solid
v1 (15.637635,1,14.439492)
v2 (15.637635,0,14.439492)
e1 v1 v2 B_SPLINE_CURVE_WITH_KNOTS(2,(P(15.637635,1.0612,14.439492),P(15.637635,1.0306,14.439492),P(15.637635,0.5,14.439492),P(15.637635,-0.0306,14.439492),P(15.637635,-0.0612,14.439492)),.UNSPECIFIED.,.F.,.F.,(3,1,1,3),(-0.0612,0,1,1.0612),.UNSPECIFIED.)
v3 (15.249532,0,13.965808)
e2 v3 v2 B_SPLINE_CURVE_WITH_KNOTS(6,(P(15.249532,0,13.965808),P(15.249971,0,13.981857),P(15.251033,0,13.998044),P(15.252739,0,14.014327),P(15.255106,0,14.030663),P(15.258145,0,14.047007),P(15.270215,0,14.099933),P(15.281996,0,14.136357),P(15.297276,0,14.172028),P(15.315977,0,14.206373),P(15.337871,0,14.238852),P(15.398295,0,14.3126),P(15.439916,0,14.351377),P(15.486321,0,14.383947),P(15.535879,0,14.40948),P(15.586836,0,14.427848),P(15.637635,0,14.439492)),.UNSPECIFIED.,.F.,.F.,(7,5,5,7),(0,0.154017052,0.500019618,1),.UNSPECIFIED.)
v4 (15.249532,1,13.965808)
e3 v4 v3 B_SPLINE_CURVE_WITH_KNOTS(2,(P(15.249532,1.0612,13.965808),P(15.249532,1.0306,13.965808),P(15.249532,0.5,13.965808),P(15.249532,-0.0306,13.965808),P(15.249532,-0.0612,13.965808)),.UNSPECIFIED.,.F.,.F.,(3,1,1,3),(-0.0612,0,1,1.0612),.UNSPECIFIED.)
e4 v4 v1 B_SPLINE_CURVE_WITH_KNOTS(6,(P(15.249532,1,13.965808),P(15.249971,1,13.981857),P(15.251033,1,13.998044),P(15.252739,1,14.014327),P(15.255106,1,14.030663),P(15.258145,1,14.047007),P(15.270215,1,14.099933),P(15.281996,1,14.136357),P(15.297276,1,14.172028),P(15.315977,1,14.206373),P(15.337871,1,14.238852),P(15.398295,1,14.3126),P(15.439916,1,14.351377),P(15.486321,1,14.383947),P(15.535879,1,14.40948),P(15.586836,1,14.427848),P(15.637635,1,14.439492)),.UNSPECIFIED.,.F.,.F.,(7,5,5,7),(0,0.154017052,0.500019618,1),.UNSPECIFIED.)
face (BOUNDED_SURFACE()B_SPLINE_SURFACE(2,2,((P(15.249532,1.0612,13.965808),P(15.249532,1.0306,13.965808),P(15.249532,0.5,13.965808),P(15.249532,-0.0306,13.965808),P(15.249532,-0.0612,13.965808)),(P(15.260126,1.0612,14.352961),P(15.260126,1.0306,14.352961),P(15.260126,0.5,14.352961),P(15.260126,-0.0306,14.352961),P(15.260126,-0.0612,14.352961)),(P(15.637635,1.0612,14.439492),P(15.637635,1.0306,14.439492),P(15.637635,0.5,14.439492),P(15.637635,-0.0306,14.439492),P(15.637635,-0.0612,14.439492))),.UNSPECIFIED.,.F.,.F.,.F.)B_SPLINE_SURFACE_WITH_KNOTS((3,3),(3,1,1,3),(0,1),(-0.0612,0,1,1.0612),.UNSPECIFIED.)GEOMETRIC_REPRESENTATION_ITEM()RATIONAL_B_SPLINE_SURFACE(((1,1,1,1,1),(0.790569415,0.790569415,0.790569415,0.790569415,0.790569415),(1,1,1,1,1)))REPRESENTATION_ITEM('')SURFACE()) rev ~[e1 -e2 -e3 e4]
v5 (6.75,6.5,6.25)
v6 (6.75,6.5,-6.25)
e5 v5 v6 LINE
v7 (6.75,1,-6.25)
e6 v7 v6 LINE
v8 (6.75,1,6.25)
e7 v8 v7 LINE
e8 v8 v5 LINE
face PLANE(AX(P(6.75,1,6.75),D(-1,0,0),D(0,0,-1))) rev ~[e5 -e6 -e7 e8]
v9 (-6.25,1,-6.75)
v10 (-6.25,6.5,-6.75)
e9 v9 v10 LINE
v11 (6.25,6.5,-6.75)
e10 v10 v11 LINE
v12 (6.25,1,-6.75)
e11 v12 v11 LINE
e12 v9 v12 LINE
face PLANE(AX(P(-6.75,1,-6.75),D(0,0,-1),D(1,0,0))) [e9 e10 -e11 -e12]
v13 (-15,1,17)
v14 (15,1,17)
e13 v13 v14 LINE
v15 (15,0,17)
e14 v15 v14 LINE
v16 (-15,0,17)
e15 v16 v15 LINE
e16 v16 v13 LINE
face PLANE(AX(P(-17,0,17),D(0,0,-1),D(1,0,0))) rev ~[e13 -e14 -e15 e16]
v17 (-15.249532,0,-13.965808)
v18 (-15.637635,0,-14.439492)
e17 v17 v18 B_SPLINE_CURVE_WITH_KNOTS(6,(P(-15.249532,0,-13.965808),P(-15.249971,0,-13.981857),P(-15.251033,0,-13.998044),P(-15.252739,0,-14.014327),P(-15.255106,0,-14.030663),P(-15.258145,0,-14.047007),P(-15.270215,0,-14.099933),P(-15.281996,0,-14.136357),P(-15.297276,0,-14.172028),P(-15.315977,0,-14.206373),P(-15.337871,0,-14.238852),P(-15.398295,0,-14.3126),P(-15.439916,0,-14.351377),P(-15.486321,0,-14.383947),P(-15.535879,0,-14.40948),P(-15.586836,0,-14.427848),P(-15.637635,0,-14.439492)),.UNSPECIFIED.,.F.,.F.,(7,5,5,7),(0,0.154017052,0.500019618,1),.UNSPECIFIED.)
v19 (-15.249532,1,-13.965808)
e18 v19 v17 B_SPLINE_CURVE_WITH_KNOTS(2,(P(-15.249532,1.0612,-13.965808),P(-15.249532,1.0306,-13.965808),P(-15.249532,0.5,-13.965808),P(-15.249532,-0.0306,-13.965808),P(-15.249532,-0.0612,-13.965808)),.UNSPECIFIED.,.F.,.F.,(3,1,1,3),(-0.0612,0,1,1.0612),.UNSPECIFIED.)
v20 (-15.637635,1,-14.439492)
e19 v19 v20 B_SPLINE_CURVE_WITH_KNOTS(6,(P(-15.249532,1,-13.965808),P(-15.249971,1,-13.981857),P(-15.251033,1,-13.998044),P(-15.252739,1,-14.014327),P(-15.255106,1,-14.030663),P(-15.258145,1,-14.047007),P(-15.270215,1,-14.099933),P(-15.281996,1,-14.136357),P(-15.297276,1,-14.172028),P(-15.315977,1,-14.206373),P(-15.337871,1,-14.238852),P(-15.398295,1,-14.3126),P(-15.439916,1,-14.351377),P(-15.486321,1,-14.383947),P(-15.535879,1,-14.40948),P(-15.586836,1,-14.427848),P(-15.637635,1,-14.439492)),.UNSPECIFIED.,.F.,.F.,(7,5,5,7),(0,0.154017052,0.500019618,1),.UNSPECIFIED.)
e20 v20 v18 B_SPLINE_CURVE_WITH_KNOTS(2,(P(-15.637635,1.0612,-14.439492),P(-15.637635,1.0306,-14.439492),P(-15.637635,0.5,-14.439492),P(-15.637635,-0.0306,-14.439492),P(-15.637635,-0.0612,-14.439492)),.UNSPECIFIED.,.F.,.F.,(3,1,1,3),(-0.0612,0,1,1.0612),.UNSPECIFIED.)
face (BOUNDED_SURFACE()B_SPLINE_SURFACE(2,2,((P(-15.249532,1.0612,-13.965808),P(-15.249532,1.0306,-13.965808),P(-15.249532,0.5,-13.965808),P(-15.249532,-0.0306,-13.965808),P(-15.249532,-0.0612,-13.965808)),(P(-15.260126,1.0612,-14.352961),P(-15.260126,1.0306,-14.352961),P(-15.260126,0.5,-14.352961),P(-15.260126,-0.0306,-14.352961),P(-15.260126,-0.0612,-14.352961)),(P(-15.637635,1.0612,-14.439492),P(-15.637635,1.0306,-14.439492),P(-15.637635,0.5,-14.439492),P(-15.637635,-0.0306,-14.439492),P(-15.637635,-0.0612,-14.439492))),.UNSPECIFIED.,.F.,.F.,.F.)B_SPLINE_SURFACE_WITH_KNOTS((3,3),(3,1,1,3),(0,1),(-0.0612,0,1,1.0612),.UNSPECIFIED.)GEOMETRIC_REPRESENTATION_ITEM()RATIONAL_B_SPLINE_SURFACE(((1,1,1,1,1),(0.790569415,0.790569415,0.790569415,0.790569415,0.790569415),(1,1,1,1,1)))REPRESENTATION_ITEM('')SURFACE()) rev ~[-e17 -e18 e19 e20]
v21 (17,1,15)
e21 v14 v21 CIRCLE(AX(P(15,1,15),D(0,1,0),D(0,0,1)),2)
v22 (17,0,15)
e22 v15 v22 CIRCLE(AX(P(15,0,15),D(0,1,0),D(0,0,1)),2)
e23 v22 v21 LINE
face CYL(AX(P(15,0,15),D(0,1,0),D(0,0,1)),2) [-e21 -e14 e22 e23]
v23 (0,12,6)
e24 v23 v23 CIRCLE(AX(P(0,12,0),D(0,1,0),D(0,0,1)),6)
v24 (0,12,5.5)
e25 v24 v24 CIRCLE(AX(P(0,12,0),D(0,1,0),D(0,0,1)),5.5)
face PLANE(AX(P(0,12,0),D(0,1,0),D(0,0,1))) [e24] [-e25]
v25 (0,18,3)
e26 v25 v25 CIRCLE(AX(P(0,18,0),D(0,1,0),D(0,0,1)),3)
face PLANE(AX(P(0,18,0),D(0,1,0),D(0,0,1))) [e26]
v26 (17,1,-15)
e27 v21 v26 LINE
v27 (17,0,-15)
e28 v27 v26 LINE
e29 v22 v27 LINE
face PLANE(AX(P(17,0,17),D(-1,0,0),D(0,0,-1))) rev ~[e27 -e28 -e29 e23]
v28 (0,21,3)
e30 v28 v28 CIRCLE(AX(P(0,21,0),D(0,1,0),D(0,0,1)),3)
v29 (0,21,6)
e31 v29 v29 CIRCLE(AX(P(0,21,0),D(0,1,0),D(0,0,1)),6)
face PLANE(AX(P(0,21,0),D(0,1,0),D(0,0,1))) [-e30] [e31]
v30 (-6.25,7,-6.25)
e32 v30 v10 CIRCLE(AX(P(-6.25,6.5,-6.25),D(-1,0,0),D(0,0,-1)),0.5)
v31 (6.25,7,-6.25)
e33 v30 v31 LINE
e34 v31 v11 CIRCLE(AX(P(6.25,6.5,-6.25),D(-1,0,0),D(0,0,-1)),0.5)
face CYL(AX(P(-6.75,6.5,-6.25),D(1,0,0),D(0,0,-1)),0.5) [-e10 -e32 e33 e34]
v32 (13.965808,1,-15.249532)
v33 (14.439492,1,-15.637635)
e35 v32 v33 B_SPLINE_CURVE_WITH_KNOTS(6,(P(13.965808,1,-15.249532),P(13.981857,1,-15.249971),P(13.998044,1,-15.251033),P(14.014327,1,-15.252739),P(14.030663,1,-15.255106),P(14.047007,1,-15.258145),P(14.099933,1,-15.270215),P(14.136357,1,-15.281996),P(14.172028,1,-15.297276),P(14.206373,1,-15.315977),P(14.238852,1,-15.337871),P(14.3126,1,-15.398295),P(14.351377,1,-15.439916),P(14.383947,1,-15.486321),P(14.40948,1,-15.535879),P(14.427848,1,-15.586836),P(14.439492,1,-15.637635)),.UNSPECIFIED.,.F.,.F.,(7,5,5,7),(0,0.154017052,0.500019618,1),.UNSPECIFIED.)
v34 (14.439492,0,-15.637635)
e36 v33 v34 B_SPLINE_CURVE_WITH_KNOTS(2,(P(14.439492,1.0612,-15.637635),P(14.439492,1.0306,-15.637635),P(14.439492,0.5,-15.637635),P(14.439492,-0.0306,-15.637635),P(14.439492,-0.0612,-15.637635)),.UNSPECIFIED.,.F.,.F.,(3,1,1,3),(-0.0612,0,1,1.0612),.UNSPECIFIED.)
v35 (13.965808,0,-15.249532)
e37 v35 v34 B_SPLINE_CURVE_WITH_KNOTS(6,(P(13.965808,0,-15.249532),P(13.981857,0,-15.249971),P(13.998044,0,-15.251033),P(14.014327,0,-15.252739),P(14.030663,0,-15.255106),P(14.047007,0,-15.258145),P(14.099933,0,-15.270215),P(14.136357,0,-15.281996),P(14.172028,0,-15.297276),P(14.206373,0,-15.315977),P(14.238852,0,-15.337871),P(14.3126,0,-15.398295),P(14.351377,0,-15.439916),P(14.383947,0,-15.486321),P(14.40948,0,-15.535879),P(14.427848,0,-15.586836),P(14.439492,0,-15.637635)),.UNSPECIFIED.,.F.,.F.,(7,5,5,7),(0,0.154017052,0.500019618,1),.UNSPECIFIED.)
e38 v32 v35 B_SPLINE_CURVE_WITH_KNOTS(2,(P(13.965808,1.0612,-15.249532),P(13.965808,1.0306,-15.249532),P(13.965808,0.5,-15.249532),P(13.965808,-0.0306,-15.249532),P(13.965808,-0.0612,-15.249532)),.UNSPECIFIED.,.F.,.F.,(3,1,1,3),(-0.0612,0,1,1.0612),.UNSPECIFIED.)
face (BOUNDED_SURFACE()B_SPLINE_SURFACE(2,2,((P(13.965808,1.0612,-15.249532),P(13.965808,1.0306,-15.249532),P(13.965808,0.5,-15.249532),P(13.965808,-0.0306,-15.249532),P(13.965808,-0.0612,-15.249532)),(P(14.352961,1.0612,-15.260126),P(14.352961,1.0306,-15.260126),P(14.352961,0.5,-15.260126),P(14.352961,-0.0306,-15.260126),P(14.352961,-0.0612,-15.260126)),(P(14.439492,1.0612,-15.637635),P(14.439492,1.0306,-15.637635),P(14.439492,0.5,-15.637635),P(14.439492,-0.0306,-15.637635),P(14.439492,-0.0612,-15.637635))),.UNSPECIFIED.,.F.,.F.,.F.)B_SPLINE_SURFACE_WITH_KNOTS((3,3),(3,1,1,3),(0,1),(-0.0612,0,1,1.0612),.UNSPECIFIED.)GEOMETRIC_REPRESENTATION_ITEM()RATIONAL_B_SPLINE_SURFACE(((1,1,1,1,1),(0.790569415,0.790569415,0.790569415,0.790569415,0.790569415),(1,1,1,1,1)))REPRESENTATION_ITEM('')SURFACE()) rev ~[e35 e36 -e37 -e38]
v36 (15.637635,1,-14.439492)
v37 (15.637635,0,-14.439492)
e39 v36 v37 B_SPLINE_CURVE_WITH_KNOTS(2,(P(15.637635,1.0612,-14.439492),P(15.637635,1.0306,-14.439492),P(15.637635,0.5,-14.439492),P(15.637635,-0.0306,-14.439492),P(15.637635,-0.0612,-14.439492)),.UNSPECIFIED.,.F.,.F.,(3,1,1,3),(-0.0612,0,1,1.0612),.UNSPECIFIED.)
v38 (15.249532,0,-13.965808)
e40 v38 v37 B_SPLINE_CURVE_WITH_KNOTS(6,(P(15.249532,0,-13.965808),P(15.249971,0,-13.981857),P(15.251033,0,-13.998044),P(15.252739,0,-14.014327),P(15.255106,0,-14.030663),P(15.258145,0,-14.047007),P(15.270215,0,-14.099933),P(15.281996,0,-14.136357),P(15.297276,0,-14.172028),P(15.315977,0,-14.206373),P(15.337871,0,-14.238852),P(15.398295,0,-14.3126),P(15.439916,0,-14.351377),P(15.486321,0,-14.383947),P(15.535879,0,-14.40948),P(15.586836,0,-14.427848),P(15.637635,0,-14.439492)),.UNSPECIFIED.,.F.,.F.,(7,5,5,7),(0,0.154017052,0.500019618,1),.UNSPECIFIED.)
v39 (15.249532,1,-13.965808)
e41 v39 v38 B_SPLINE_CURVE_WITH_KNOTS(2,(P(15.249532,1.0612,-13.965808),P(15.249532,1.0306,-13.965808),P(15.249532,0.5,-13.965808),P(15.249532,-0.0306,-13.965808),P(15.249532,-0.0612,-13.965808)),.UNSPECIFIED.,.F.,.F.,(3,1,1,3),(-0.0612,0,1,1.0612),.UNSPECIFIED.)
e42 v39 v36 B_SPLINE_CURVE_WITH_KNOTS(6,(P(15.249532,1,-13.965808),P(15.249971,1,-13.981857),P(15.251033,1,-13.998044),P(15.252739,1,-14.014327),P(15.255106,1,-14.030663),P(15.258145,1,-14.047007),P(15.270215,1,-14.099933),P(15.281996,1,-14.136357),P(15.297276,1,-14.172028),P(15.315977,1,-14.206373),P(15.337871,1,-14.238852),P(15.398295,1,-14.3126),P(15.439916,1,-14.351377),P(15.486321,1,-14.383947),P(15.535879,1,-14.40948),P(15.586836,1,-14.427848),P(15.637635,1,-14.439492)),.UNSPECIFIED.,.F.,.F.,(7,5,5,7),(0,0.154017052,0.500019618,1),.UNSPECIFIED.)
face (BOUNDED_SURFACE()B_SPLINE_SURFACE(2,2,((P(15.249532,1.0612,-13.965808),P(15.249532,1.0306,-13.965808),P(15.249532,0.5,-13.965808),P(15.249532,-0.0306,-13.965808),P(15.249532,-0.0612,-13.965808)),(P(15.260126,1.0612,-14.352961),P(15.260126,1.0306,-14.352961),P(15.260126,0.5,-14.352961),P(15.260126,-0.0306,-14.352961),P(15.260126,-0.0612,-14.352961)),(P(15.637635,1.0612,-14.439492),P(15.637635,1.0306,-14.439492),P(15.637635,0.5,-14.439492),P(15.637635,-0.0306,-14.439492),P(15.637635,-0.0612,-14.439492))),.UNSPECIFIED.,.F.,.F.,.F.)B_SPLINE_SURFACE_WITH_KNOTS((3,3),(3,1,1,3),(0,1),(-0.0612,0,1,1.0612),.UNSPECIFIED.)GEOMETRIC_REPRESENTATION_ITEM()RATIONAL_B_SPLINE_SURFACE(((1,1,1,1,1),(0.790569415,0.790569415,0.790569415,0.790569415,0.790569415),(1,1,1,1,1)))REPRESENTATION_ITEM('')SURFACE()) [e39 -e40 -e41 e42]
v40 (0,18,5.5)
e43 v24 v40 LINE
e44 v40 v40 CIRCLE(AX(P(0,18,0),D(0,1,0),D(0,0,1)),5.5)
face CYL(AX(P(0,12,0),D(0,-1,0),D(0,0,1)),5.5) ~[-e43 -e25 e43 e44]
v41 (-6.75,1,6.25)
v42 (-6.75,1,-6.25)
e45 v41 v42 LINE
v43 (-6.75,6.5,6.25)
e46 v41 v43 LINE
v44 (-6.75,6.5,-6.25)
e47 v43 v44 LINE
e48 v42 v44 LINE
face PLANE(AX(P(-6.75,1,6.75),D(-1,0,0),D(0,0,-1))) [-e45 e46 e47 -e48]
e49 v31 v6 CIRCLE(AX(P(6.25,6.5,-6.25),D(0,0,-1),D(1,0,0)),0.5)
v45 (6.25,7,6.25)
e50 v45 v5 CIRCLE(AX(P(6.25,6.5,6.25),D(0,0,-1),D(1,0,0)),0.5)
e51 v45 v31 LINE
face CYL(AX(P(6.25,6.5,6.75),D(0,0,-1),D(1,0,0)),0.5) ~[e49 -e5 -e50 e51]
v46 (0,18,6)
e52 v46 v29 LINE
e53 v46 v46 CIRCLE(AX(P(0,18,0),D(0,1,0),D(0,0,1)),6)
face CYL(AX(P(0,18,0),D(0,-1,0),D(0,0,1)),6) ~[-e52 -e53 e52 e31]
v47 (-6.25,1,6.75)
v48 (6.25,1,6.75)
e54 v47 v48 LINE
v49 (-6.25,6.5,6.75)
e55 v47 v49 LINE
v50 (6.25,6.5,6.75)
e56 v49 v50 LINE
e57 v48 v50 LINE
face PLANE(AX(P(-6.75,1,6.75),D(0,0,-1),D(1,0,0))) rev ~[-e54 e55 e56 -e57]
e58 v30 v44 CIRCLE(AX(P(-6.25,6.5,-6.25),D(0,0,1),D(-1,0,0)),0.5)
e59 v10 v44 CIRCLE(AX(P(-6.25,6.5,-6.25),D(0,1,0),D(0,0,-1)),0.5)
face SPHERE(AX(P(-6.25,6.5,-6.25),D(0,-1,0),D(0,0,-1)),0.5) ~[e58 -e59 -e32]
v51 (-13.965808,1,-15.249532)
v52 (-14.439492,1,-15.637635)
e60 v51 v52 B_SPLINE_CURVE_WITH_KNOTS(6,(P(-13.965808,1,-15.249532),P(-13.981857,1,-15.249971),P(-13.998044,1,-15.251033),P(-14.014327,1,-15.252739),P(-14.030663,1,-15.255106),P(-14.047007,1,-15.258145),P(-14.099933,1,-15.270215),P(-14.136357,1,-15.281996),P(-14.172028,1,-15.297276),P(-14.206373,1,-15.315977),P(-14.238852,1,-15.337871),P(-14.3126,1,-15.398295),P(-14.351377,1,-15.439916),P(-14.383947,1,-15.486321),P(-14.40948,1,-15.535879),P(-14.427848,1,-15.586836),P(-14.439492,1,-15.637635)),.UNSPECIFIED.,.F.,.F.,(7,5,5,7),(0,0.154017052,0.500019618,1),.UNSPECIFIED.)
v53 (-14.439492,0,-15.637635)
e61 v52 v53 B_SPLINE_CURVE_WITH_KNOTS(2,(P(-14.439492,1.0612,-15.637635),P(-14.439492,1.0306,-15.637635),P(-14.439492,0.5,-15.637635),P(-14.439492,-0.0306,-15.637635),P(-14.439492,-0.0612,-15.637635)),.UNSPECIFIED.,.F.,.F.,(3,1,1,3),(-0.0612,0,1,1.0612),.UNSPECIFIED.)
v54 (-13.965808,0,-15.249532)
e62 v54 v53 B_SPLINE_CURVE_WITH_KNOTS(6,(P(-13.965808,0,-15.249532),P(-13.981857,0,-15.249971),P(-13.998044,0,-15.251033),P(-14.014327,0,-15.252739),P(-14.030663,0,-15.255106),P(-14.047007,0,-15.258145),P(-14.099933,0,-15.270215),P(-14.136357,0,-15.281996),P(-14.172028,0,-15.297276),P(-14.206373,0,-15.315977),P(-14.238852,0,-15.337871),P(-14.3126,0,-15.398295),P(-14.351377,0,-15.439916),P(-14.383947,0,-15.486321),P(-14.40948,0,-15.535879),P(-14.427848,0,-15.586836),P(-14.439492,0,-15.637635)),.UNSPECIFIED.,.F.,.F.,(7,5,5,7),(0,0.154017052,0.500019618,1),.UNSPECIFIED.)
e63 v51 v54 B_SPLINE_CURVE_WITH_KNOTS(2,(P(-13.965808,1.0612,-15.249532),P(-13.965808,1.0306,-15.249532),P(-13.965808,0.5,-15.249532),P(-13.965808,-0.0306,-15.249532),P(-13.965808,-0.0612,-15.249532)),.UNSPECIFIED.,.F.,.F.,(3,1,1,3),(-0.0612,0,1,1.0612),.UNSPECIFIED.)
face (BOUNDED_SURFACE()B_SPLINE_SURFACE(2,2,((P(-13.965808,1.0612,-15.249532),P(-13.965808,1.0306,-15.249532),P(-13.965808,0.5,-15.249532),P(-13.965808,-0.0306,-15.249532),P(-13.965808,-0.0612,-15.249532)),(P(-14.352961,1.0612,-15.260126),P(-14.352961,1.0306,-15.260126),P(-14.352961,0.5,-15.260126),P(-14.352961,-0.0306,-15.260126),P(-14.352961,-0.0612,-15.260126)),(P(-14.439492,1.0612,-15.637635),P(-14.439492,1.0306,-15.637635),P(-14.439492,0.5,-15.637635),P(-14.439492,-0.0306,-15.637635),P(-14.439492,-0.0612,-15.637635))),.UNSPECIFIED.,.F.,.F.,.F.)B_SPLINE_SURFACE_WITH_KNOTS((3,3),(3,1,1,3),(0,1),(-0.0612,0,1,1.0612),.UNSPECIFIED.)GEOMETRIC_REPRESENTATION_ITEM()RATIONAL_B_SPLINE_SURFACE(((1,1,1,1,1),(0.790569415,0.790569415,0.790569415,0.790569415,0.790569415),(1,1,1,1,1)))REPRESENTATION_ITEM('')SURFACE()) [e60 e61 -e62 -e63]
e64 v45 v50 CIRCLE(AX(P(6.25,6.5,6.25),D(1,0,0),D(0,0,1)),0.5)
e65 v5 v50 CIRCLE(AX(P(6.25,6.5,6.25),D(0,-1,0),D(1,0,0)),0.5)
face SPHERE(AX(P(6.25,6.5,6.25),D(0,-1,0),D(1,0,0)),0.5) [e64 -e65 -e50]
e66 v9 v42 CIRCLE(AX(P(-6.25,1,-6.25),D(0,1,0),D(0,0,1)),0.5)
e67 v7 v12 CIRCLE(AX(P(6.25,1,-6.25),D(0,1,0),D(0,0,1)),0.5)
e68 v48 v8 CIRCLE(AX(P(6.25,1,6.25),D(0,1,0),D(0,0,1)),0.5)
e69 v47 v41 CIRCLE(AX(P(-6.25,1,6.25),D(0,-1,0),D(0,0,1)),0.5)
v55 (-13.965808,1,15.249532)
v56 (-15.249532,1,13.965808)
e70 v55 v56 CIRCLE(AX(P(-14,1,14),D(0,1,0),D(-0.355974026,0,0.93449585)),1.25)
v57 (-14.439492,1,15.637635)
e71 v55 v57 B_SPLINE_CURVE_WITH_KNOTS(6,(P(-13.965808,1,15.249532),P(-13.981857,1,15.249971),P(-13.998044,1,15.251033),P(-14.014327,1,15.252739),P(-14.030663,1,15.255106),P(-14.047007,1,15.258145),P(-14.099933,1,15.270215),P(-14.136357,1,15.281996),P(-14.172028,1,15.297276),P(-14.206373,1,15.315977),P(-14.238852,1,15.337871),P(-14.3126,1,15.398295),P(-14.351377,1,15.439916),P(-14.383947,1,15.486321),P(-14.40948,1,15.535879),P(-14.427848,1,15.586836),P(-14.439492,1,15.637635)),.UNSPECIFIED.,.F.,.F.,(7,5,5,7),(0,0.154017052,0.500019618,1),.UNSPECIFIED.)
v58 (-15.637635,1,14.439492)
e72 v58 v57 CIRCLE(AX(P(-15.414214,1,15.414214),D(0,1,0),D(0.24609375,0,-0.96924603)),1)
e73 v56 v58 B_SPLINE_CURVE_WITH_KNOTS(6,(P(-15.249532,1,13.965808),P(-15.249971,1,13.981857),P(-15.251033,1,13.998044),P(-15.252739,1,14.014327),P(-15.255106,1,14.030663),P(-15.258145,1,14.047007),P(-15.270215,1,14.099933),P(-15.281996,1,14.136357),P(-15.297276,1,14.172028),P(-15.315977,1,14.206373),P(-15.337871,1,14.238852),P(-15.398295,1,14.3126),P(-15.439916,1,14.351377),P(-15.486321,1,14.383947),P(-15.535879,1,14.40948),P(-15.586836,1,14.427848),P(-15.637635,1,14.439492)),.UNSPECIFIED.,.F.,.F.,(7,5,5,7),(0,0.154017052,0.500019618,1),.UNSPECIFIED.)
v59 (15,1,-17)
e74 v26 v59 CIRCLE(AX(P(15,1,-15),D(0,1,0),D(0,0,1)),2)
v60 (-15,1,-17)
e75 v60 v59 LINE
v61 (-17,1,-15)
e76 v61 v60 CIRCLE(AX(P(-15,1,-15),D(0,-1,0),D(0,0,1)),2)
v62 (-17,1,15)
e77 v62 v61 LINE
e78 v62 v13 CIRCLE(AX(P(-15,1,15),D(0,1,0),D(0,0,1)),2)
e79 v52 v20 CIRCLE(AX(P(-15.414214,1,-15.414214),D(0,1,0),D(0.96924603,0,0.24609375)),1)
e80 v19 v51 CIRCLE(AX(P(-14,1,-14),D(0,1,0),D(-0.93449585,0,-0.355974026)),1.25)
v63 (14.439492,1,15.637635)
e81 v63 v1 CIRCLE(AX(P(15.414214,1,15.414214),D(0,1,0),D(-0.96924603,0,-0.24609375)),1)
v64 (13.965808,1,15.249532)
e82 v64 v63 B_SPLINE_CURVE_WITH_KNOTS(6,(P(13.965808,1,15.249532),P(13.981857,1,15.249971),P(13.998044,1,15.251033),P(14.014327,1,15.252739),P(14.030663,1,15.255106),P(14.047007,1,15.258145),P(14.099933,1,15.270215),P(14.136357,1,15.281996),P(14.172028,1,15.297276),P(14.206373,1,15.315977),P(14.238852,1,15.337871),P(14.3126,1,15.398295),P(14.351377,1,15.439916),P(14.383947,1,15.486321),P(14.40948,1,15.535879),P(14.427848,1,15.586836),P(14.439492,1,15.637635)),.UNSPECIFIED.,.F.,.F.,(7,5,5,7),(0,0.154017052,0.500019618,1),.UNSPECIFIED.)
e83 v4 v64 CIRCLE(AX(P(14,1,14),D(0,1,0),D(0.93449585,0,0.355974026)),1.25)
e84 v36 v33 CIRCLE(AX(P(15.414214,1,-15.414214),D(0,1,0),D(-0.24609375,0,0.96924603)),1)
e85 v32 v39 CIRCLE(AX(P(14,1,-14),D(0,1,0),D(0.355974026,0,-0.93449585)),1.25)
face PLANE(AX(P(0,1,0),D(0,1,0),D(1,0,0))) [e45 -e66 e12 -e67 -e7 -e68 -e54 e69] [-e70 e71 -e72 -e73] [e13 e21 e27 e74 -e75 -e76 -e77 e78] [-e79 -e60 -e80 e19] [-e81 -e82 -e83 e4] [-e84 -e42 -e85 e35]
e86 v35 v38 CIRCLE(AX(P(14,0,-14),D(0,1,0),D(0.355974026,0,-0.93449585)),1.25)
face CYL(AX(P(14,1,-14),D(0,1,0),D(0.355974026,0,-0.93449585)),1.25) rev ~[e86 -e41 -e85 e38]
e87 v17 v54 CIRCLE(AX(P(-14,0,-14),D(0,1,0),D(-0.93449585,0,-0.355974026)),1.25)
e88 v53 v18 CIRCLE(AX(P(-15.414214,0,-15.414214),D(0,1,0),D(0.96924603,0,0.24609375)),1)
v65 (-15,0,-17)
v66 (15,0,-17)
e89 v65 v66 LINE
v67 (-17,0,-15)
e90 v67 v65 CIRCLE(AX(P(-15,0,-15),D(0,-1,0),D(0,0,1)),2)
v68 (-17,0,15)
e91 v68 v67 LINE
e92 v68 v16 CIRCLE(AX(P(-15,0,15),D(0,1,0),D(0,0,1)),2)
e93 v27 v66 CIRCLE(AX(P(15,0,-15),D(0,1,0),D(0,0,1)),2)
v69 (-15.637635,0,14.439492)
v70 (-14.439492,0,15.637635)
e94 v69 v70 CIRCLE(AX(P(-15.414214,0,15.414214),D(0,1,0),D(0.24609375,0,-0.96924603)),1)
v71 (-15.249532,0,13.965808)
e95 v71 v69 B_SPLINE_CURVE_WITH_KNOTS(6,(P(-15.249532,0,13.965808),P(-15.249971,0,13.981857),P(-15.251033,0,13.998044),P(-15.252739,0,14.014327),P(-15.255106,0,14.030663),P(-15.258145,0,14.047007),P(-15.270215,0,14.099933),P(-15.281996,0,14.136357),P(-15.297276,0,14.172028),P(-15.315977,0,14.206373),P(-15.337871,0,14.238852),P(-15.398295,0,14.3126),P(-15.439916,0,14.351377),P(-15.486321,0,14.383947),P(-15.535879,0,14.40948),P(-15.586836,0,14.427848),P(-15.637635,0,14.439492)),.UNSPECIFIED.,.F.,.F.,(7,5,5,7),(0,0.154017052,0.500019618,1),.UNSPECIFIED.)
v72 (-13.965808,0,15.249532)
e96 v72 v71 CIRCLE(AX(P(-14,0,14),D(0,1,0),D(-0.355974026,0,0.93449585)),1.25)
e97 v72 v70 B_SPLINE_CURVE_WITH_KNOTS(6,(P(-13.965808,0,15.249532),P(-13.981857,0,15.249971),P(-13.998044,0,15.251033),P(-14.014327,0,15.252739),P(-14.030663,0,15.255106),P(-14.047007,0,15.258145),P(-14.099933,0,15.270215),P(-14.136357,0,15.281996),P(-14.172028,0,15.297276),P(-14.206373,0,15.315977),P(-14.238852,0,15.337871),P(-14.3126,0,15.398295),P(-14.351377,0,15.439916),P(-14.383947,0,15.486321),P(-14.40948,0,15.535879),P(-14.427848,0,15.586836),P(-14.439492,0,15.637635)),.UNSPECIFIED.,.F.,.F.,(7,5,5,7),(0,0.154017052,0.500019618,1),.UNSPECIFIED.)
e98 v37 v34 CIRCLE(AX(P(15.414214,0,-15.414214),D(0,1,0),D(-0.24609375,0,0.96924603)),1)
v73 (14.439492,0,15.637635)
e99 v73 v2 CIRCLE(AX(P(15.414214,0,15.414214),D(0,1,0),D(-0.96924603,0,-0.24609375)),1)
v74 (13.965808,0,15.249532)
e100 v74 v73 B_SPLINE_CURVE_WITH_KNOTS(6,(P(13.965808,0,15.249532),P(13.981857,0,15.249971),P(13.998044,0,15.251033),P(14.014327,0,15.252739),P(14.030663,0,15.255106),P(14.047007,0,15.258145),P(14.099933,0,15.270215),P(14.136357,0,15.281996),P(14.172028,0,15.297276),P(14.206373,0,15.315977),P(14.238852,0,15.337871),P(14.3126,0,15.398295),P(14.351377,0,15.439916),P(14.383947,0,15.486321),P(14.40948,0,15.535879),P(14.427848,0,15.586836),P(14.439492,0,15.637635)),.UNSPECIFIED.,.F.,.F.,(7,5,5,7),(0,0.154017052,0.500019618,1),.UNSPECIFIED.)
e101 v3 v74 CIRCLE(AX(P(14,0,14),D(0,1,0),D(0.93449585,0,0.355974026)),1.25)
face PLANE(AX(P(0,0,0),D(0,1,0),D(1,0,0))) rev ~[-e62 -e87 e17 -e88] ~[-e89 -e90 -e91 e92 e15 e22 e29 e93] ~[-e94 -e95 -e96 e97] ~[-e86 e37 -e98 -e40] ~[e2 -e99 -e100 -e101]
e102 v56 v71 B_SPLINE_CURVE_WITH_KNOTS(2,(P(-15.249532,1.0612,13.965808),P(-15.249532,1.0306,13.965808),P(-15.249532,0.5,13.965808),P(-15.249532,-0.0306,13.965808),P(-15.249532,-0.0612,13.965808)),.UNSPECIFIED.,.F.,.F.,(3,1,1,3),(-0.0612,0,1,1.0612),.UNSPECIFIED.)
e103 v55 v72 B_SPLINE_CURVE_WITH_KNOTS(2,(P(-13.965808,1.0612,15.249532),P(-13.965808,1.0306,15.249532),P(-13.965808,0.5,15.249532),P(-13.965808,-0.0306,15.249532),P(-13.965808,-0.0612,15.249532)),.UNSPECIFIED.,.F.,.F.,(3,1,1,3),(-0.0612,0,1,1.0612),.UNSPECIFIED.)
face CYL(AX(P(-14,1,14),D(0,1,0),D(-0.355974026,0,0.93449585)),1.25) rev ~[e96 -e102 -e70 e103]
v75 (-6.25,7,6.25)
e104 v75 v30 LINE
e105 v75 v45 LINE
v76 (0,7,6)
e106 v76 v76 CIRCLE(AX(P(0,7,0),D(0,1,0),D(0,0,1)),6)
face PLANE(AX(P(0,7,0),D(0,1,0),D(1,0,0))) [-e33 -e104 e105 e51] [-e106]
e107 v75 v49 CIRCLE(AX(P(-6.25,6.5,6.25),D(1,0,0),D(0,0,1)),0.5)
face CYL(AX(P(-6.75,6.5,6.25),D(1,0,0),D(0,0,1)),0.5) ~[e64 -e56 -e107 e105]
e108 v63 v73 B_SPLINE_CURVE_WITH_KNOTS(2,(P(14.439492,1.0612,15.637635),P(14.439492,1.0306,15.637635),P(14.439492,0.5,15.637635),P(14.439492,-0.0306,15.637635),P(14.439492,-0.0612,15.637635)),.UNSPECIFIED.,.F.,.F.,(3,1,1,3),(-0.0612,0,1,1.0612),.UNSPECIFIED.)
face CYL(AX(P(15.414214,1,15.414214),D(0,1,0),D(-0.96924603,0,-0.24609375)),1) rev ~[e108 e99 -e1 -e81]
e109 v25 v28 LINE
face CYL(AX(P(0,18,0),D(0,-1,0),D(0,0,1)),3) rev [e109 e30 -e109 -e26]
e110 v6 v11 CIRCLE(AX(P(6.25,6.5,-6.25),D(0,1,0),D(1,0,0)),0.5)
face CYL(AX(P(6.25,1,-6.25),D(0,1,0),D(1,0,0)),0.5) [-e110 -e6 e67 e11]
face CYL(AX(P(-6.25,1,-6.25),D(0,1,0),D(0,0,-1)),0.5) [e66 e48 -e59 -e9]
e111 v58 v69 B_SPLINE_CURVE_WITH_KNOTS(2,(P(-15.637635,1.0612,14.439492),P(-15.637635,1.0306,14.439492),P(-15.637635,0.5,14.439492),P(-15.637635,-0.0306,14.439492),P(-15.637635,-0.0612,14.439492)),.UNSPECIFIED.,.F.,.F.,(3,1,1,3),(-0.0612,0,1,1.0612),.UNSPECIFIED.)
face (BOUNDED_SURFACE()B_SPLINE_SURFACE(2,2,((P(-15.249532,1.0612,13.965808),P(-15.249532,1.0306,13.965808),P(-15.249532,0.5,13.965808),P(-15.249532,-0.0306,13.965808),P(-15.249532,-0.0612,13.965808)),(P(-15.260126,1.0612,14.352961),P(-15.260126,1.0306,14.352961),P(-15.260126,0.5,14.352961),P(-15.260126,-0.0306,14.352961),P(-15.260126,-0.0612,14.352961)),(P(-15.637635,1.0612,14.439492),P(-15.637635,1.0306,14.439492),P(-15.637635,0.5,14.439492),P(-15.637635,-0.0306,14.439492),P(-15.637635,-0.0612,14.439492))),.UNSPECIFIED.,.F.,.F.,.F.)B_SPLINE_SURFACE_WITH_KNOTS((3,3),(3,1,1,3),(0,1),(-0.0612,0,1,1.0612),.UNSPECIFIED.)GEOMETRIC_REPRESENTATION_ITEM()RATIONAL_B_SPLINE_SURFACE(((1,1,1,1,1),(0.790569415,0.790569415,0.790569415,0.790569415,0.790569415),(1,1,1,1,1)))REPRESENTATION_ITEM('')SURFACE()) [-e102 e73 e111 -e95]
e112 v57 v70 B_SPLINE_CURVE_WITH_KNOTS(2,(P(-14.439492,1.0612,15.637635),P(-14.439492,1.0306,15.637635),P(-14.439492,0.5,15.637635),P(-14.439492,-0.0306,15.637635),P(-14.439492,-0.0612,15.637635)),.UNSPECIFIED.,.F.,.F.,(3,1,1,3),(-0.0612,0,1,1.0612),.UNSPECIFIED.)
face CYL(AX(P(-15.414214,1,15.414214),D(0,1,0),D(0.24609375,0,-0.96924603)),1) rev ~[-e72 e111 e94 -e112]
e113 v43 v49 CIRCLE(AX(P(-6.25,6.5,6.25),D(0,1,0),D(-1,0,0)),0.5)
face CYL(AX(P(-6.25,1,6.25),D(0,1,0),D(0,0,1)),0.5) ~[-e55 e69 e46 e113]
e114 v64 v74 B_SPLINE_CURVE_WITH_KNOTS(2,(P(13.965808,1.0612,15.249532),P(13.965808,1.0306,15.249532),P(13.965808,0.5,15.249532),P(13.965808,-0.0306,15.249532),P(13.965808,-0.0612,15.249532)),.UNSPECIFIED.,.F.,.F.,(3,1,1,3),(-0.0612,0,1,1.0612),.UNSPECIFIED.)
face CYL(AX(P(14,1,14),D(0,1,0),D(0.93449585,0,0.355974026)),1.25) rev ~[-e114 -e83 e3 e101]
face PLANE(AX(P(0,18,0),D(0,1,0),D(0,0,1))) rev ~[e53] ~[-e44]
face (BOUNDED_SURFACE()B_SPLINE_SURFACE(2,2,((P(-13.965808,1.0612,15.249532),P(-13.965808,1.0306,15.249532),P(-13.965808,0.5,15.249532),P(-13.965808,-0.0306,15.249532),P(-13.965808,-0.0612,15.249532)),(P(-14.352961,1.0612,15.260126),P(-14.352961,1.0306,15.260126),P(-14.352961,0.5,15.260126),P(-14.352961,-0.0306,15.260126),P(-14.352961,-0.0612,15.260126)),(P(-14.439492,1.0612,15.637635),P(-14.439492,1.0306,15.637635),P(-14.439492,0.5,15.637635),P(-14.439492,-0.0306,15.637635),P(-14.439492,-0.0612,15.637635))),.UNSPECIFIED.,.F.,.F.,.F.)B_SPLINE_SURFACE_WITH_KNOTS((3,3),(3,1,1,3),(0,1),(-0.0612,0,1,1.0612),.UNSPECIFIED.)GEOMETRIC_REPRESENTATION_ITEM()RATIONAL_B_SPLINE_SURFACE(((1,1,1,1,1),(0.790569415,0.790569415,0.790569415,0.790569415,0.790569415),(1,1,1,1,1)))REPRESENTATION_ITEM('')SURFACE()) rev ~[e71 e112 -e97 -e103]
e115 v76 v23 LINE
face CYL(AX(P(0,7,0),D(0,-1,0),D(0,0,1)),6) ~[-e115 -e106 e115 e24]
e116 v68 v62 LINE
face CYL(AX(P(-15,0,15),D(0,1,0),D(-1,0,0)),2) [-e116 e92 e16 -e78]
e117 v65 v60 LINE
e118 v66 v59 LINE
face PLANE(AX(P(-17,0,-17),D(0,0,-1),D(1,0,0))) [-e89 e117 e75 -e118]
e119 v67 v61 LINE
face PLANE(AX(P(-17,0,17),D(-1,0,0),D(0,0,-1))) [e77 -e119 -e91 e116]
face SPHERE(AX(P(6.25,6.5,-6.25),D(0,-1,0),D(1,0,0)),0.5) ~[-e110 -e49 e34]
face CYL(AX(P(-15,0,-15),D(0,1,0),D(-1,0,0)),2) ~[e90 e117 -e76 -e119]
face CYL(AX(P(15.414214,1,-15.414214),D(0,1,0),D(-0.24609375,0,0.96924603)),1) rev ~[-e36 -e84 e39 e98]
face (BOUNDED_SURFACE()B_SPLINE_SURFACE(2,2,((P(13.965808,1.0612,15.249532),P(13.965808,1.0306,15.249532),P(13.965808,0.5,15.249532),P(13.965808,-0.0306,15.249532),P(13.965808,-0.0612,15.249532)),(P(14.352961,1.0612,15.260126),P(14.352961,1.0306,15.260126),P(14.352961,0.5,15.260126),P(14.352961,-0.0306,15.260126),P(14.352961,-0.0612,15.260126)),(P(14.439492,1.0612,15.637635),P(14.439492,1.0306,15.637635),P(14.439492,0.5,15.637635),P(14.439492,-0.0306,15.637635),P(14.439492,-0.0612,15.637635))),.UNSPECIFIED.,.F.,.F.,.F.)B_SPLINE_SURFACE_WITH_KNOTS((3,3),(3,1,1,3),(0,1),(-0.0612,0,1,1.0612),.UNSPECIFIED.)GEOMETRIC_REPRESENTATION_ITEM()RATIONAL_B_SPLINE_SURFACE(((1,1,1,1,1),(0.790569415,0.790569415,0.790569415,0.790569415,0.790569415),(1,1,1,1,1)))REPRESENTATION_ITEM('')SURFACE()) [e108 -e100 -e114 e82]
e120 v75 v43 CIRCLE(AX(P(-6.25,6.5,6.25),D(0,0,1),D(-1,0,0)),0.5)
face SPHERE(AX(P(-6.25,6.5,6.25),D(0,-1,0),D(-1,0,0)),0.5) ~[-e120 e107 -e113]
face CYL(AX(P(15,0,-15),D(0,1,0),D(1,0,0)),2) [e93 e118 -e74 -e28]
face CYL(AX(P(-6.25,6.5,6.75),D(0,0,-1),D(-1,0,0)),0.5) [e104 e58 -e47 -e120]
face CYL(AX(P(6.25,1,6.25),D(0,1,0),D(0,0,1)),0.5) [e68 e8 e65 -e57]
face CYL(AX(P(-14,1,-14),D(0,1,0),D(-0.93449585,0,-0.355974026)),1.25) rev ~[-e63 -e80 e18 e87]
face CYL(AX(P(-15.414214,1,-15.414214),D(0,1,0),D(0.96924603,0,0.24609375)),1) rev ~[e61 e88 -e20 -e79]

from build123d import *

# Parameters (mm, degrees)
SKETCH2_W           = 34
SKETCH2_H           = 34
BOSS_EXTRUDE2_DEPTH = 1
FILLET1_R           = 2
SKETCH3_W           = 13.5
SKETCH3_H           = 13.5
BOSS_EXTRUDE3_DEPTH = 6
SKETCH4_R           = 6
BOSS_EXTRUDE4_DEPTH = 5
FILLET2_R           = 0.5
SKETCH5_R           = 5.5
BOSS_EXTRUDE5_DEPTH = 6
SKETCH6_R           = 6
SKETCH6_R_2         = 3
BOSS_EXTRUDE6_DEPTH = 3
SKETCH7_R           = 1
SKETCH7_R_2         = 1.25
CUT_EXTRUDE1_DEPTH  = 32.272991542
FILLET3_R           = 0.5


with BuildPart() as part:
    # Sketch2 → Boss-Extrude2 (new body)
    with BuildSketch(Plane(origin=(0, 0, 0), x_dir=(1, 0, 0), z_dir=(0, 1, 0))):
        Rectangle(SKETCH2_W, SKETCH2_H)
    extrude(amount=BOSS_EXTRUDE2_DEPTH)

    # Fillet1
    fillet1_edges = [part.edges().sort_by_distance(p)[0] for p in [
        (17, 0.5, 17),
        (-17, 0.5, 17),
        (-17, 0.5, -17),
        (17, 0.5, -17),
    ]]
    fillet(fillet1_edges, radius=FILLET1_R)

    # Sketch3 → Boss-Extrude3 (add)
    with BuildSketch(Plane(origin=(0, 1, 0), x_dir=(1, 0, 0), z_dir=(0, 1, 0))):
        Rectangle(SKETCH3_W, SKETCH3_H)
    extrude(amount=BOSS_EXTRUDE3_DEPTH)

    # Sketch4 → Boss-Extrude4 (add)
    with BuildSketch(Plane(origin=(0, 7, 0), x_dir=(1, 0, 0), z_dir=(0, 1, 0))):
        with Locations(Location((0, 0, 0), (0, 0, 270))):
            Circle(SKETCH4_R)
    extrude(amount=BOSS_EXTRUDE4_DEPTH)

    # Fillet2
    fillet2_edges = [part.edges().sort_by_distance(p)[0] for p in [
        (6.75, 4, 6.75),
        (6.75, 4, -6.75),
        (-6.75, 4, -6.75),
        (-6.75, 4, 6.75),
        (6.75, 7, 0),
        (0, 7, -6.75),
        (-6.75, 7, 0),
        (0, 7, 6.75),
    ]]
    fillet(fillet2_edges, radius=FILLET2_R)

    # Sketch5 → Boss-Extrude5 (add)
    with BuildSketch(Plane(origin=(0, 12, 0), x_dir=(1, 0, 0), z_dir=(0, 1, 0))):
        with Locations(Location((0, 0, 0), (0, 0, 270))):
            Circle(SKETCH5_R)
    extrude(amount=BOSS_EXTRUDE5_DEPTH)

    # Sketch6 → Boss-Extrude6 (add)
    with BuildSketch(Plane(origin=(0, 18, 0), x_dir=(1, 0, 0), z_dir=(0, 1, 0))):
        with Locations(Location((0, 0, 0), (0, 0, 270))):
            Circle(SKETCH6_R)
        with Locations(Location((0, 0, 0), (0, 0, 270))):
            Circle(SKETCH6_R_2, mode=Mode.SUBTRACT)
    extrude(amount=BOSS_EXTRUDE6_DEPTH)

    # Sketch7 → Cut-Extrude1 (cut, through all)
    with BuildSketch(Plane(origin=(0, 1, 0), x_dir=(1, 0, 0), z_dir=(0, 1, 0))):
        with Locations((-15.414213562, -15.414213562)):
            Circle(SKETCH7_R)
        with Locations((-14, -14)):
            Circle(SKETCH7_R_2)
        with Locations((15.414213562, -15.414213562)):
            Circle(SKETCH7_R)
        with Locations((14, -14)):
            Circle(SKETCH7_R_2)
        with Locations((15.414213562, 15.414213562)):
            Circle(SKETCH7_R)
        with Locations((14, 14)):
            Circle(SKETCH7_R_2)
        with Locations((-15.414213562, 15.414213562)):
            Circle(SKETCH7_R)
        with Locations((-14, 14)):
            Circle(SKETCH7_R_2)
    extrude(amount=-CUT_EXTRUDE1_DEPTH, mode=Mode.SUBTRACT)

    # Fillet3
    fillet3_edges = [part.edges().sort_by_distance(p)[0] for p in [
        (-14.444967533, 0.5, -15.168119812),
        (-15.168119812, 0.5, -14.444967533),
        (15.168119812, 0.5, -14.444967533),
        (14.444967533, 0.5, -15.168119812),
        (14.444967533, 0.5, 15.168119812),
        (15.168119812, 0.5, 14.444967533),
        (-15.168119812, 0.5, 14.444967533),
        (-14.444967533, 0.5, 15.168119812),
    ]]
    fillet(fillet3_edges, radius=FILLET3_R)


solid = part.part
